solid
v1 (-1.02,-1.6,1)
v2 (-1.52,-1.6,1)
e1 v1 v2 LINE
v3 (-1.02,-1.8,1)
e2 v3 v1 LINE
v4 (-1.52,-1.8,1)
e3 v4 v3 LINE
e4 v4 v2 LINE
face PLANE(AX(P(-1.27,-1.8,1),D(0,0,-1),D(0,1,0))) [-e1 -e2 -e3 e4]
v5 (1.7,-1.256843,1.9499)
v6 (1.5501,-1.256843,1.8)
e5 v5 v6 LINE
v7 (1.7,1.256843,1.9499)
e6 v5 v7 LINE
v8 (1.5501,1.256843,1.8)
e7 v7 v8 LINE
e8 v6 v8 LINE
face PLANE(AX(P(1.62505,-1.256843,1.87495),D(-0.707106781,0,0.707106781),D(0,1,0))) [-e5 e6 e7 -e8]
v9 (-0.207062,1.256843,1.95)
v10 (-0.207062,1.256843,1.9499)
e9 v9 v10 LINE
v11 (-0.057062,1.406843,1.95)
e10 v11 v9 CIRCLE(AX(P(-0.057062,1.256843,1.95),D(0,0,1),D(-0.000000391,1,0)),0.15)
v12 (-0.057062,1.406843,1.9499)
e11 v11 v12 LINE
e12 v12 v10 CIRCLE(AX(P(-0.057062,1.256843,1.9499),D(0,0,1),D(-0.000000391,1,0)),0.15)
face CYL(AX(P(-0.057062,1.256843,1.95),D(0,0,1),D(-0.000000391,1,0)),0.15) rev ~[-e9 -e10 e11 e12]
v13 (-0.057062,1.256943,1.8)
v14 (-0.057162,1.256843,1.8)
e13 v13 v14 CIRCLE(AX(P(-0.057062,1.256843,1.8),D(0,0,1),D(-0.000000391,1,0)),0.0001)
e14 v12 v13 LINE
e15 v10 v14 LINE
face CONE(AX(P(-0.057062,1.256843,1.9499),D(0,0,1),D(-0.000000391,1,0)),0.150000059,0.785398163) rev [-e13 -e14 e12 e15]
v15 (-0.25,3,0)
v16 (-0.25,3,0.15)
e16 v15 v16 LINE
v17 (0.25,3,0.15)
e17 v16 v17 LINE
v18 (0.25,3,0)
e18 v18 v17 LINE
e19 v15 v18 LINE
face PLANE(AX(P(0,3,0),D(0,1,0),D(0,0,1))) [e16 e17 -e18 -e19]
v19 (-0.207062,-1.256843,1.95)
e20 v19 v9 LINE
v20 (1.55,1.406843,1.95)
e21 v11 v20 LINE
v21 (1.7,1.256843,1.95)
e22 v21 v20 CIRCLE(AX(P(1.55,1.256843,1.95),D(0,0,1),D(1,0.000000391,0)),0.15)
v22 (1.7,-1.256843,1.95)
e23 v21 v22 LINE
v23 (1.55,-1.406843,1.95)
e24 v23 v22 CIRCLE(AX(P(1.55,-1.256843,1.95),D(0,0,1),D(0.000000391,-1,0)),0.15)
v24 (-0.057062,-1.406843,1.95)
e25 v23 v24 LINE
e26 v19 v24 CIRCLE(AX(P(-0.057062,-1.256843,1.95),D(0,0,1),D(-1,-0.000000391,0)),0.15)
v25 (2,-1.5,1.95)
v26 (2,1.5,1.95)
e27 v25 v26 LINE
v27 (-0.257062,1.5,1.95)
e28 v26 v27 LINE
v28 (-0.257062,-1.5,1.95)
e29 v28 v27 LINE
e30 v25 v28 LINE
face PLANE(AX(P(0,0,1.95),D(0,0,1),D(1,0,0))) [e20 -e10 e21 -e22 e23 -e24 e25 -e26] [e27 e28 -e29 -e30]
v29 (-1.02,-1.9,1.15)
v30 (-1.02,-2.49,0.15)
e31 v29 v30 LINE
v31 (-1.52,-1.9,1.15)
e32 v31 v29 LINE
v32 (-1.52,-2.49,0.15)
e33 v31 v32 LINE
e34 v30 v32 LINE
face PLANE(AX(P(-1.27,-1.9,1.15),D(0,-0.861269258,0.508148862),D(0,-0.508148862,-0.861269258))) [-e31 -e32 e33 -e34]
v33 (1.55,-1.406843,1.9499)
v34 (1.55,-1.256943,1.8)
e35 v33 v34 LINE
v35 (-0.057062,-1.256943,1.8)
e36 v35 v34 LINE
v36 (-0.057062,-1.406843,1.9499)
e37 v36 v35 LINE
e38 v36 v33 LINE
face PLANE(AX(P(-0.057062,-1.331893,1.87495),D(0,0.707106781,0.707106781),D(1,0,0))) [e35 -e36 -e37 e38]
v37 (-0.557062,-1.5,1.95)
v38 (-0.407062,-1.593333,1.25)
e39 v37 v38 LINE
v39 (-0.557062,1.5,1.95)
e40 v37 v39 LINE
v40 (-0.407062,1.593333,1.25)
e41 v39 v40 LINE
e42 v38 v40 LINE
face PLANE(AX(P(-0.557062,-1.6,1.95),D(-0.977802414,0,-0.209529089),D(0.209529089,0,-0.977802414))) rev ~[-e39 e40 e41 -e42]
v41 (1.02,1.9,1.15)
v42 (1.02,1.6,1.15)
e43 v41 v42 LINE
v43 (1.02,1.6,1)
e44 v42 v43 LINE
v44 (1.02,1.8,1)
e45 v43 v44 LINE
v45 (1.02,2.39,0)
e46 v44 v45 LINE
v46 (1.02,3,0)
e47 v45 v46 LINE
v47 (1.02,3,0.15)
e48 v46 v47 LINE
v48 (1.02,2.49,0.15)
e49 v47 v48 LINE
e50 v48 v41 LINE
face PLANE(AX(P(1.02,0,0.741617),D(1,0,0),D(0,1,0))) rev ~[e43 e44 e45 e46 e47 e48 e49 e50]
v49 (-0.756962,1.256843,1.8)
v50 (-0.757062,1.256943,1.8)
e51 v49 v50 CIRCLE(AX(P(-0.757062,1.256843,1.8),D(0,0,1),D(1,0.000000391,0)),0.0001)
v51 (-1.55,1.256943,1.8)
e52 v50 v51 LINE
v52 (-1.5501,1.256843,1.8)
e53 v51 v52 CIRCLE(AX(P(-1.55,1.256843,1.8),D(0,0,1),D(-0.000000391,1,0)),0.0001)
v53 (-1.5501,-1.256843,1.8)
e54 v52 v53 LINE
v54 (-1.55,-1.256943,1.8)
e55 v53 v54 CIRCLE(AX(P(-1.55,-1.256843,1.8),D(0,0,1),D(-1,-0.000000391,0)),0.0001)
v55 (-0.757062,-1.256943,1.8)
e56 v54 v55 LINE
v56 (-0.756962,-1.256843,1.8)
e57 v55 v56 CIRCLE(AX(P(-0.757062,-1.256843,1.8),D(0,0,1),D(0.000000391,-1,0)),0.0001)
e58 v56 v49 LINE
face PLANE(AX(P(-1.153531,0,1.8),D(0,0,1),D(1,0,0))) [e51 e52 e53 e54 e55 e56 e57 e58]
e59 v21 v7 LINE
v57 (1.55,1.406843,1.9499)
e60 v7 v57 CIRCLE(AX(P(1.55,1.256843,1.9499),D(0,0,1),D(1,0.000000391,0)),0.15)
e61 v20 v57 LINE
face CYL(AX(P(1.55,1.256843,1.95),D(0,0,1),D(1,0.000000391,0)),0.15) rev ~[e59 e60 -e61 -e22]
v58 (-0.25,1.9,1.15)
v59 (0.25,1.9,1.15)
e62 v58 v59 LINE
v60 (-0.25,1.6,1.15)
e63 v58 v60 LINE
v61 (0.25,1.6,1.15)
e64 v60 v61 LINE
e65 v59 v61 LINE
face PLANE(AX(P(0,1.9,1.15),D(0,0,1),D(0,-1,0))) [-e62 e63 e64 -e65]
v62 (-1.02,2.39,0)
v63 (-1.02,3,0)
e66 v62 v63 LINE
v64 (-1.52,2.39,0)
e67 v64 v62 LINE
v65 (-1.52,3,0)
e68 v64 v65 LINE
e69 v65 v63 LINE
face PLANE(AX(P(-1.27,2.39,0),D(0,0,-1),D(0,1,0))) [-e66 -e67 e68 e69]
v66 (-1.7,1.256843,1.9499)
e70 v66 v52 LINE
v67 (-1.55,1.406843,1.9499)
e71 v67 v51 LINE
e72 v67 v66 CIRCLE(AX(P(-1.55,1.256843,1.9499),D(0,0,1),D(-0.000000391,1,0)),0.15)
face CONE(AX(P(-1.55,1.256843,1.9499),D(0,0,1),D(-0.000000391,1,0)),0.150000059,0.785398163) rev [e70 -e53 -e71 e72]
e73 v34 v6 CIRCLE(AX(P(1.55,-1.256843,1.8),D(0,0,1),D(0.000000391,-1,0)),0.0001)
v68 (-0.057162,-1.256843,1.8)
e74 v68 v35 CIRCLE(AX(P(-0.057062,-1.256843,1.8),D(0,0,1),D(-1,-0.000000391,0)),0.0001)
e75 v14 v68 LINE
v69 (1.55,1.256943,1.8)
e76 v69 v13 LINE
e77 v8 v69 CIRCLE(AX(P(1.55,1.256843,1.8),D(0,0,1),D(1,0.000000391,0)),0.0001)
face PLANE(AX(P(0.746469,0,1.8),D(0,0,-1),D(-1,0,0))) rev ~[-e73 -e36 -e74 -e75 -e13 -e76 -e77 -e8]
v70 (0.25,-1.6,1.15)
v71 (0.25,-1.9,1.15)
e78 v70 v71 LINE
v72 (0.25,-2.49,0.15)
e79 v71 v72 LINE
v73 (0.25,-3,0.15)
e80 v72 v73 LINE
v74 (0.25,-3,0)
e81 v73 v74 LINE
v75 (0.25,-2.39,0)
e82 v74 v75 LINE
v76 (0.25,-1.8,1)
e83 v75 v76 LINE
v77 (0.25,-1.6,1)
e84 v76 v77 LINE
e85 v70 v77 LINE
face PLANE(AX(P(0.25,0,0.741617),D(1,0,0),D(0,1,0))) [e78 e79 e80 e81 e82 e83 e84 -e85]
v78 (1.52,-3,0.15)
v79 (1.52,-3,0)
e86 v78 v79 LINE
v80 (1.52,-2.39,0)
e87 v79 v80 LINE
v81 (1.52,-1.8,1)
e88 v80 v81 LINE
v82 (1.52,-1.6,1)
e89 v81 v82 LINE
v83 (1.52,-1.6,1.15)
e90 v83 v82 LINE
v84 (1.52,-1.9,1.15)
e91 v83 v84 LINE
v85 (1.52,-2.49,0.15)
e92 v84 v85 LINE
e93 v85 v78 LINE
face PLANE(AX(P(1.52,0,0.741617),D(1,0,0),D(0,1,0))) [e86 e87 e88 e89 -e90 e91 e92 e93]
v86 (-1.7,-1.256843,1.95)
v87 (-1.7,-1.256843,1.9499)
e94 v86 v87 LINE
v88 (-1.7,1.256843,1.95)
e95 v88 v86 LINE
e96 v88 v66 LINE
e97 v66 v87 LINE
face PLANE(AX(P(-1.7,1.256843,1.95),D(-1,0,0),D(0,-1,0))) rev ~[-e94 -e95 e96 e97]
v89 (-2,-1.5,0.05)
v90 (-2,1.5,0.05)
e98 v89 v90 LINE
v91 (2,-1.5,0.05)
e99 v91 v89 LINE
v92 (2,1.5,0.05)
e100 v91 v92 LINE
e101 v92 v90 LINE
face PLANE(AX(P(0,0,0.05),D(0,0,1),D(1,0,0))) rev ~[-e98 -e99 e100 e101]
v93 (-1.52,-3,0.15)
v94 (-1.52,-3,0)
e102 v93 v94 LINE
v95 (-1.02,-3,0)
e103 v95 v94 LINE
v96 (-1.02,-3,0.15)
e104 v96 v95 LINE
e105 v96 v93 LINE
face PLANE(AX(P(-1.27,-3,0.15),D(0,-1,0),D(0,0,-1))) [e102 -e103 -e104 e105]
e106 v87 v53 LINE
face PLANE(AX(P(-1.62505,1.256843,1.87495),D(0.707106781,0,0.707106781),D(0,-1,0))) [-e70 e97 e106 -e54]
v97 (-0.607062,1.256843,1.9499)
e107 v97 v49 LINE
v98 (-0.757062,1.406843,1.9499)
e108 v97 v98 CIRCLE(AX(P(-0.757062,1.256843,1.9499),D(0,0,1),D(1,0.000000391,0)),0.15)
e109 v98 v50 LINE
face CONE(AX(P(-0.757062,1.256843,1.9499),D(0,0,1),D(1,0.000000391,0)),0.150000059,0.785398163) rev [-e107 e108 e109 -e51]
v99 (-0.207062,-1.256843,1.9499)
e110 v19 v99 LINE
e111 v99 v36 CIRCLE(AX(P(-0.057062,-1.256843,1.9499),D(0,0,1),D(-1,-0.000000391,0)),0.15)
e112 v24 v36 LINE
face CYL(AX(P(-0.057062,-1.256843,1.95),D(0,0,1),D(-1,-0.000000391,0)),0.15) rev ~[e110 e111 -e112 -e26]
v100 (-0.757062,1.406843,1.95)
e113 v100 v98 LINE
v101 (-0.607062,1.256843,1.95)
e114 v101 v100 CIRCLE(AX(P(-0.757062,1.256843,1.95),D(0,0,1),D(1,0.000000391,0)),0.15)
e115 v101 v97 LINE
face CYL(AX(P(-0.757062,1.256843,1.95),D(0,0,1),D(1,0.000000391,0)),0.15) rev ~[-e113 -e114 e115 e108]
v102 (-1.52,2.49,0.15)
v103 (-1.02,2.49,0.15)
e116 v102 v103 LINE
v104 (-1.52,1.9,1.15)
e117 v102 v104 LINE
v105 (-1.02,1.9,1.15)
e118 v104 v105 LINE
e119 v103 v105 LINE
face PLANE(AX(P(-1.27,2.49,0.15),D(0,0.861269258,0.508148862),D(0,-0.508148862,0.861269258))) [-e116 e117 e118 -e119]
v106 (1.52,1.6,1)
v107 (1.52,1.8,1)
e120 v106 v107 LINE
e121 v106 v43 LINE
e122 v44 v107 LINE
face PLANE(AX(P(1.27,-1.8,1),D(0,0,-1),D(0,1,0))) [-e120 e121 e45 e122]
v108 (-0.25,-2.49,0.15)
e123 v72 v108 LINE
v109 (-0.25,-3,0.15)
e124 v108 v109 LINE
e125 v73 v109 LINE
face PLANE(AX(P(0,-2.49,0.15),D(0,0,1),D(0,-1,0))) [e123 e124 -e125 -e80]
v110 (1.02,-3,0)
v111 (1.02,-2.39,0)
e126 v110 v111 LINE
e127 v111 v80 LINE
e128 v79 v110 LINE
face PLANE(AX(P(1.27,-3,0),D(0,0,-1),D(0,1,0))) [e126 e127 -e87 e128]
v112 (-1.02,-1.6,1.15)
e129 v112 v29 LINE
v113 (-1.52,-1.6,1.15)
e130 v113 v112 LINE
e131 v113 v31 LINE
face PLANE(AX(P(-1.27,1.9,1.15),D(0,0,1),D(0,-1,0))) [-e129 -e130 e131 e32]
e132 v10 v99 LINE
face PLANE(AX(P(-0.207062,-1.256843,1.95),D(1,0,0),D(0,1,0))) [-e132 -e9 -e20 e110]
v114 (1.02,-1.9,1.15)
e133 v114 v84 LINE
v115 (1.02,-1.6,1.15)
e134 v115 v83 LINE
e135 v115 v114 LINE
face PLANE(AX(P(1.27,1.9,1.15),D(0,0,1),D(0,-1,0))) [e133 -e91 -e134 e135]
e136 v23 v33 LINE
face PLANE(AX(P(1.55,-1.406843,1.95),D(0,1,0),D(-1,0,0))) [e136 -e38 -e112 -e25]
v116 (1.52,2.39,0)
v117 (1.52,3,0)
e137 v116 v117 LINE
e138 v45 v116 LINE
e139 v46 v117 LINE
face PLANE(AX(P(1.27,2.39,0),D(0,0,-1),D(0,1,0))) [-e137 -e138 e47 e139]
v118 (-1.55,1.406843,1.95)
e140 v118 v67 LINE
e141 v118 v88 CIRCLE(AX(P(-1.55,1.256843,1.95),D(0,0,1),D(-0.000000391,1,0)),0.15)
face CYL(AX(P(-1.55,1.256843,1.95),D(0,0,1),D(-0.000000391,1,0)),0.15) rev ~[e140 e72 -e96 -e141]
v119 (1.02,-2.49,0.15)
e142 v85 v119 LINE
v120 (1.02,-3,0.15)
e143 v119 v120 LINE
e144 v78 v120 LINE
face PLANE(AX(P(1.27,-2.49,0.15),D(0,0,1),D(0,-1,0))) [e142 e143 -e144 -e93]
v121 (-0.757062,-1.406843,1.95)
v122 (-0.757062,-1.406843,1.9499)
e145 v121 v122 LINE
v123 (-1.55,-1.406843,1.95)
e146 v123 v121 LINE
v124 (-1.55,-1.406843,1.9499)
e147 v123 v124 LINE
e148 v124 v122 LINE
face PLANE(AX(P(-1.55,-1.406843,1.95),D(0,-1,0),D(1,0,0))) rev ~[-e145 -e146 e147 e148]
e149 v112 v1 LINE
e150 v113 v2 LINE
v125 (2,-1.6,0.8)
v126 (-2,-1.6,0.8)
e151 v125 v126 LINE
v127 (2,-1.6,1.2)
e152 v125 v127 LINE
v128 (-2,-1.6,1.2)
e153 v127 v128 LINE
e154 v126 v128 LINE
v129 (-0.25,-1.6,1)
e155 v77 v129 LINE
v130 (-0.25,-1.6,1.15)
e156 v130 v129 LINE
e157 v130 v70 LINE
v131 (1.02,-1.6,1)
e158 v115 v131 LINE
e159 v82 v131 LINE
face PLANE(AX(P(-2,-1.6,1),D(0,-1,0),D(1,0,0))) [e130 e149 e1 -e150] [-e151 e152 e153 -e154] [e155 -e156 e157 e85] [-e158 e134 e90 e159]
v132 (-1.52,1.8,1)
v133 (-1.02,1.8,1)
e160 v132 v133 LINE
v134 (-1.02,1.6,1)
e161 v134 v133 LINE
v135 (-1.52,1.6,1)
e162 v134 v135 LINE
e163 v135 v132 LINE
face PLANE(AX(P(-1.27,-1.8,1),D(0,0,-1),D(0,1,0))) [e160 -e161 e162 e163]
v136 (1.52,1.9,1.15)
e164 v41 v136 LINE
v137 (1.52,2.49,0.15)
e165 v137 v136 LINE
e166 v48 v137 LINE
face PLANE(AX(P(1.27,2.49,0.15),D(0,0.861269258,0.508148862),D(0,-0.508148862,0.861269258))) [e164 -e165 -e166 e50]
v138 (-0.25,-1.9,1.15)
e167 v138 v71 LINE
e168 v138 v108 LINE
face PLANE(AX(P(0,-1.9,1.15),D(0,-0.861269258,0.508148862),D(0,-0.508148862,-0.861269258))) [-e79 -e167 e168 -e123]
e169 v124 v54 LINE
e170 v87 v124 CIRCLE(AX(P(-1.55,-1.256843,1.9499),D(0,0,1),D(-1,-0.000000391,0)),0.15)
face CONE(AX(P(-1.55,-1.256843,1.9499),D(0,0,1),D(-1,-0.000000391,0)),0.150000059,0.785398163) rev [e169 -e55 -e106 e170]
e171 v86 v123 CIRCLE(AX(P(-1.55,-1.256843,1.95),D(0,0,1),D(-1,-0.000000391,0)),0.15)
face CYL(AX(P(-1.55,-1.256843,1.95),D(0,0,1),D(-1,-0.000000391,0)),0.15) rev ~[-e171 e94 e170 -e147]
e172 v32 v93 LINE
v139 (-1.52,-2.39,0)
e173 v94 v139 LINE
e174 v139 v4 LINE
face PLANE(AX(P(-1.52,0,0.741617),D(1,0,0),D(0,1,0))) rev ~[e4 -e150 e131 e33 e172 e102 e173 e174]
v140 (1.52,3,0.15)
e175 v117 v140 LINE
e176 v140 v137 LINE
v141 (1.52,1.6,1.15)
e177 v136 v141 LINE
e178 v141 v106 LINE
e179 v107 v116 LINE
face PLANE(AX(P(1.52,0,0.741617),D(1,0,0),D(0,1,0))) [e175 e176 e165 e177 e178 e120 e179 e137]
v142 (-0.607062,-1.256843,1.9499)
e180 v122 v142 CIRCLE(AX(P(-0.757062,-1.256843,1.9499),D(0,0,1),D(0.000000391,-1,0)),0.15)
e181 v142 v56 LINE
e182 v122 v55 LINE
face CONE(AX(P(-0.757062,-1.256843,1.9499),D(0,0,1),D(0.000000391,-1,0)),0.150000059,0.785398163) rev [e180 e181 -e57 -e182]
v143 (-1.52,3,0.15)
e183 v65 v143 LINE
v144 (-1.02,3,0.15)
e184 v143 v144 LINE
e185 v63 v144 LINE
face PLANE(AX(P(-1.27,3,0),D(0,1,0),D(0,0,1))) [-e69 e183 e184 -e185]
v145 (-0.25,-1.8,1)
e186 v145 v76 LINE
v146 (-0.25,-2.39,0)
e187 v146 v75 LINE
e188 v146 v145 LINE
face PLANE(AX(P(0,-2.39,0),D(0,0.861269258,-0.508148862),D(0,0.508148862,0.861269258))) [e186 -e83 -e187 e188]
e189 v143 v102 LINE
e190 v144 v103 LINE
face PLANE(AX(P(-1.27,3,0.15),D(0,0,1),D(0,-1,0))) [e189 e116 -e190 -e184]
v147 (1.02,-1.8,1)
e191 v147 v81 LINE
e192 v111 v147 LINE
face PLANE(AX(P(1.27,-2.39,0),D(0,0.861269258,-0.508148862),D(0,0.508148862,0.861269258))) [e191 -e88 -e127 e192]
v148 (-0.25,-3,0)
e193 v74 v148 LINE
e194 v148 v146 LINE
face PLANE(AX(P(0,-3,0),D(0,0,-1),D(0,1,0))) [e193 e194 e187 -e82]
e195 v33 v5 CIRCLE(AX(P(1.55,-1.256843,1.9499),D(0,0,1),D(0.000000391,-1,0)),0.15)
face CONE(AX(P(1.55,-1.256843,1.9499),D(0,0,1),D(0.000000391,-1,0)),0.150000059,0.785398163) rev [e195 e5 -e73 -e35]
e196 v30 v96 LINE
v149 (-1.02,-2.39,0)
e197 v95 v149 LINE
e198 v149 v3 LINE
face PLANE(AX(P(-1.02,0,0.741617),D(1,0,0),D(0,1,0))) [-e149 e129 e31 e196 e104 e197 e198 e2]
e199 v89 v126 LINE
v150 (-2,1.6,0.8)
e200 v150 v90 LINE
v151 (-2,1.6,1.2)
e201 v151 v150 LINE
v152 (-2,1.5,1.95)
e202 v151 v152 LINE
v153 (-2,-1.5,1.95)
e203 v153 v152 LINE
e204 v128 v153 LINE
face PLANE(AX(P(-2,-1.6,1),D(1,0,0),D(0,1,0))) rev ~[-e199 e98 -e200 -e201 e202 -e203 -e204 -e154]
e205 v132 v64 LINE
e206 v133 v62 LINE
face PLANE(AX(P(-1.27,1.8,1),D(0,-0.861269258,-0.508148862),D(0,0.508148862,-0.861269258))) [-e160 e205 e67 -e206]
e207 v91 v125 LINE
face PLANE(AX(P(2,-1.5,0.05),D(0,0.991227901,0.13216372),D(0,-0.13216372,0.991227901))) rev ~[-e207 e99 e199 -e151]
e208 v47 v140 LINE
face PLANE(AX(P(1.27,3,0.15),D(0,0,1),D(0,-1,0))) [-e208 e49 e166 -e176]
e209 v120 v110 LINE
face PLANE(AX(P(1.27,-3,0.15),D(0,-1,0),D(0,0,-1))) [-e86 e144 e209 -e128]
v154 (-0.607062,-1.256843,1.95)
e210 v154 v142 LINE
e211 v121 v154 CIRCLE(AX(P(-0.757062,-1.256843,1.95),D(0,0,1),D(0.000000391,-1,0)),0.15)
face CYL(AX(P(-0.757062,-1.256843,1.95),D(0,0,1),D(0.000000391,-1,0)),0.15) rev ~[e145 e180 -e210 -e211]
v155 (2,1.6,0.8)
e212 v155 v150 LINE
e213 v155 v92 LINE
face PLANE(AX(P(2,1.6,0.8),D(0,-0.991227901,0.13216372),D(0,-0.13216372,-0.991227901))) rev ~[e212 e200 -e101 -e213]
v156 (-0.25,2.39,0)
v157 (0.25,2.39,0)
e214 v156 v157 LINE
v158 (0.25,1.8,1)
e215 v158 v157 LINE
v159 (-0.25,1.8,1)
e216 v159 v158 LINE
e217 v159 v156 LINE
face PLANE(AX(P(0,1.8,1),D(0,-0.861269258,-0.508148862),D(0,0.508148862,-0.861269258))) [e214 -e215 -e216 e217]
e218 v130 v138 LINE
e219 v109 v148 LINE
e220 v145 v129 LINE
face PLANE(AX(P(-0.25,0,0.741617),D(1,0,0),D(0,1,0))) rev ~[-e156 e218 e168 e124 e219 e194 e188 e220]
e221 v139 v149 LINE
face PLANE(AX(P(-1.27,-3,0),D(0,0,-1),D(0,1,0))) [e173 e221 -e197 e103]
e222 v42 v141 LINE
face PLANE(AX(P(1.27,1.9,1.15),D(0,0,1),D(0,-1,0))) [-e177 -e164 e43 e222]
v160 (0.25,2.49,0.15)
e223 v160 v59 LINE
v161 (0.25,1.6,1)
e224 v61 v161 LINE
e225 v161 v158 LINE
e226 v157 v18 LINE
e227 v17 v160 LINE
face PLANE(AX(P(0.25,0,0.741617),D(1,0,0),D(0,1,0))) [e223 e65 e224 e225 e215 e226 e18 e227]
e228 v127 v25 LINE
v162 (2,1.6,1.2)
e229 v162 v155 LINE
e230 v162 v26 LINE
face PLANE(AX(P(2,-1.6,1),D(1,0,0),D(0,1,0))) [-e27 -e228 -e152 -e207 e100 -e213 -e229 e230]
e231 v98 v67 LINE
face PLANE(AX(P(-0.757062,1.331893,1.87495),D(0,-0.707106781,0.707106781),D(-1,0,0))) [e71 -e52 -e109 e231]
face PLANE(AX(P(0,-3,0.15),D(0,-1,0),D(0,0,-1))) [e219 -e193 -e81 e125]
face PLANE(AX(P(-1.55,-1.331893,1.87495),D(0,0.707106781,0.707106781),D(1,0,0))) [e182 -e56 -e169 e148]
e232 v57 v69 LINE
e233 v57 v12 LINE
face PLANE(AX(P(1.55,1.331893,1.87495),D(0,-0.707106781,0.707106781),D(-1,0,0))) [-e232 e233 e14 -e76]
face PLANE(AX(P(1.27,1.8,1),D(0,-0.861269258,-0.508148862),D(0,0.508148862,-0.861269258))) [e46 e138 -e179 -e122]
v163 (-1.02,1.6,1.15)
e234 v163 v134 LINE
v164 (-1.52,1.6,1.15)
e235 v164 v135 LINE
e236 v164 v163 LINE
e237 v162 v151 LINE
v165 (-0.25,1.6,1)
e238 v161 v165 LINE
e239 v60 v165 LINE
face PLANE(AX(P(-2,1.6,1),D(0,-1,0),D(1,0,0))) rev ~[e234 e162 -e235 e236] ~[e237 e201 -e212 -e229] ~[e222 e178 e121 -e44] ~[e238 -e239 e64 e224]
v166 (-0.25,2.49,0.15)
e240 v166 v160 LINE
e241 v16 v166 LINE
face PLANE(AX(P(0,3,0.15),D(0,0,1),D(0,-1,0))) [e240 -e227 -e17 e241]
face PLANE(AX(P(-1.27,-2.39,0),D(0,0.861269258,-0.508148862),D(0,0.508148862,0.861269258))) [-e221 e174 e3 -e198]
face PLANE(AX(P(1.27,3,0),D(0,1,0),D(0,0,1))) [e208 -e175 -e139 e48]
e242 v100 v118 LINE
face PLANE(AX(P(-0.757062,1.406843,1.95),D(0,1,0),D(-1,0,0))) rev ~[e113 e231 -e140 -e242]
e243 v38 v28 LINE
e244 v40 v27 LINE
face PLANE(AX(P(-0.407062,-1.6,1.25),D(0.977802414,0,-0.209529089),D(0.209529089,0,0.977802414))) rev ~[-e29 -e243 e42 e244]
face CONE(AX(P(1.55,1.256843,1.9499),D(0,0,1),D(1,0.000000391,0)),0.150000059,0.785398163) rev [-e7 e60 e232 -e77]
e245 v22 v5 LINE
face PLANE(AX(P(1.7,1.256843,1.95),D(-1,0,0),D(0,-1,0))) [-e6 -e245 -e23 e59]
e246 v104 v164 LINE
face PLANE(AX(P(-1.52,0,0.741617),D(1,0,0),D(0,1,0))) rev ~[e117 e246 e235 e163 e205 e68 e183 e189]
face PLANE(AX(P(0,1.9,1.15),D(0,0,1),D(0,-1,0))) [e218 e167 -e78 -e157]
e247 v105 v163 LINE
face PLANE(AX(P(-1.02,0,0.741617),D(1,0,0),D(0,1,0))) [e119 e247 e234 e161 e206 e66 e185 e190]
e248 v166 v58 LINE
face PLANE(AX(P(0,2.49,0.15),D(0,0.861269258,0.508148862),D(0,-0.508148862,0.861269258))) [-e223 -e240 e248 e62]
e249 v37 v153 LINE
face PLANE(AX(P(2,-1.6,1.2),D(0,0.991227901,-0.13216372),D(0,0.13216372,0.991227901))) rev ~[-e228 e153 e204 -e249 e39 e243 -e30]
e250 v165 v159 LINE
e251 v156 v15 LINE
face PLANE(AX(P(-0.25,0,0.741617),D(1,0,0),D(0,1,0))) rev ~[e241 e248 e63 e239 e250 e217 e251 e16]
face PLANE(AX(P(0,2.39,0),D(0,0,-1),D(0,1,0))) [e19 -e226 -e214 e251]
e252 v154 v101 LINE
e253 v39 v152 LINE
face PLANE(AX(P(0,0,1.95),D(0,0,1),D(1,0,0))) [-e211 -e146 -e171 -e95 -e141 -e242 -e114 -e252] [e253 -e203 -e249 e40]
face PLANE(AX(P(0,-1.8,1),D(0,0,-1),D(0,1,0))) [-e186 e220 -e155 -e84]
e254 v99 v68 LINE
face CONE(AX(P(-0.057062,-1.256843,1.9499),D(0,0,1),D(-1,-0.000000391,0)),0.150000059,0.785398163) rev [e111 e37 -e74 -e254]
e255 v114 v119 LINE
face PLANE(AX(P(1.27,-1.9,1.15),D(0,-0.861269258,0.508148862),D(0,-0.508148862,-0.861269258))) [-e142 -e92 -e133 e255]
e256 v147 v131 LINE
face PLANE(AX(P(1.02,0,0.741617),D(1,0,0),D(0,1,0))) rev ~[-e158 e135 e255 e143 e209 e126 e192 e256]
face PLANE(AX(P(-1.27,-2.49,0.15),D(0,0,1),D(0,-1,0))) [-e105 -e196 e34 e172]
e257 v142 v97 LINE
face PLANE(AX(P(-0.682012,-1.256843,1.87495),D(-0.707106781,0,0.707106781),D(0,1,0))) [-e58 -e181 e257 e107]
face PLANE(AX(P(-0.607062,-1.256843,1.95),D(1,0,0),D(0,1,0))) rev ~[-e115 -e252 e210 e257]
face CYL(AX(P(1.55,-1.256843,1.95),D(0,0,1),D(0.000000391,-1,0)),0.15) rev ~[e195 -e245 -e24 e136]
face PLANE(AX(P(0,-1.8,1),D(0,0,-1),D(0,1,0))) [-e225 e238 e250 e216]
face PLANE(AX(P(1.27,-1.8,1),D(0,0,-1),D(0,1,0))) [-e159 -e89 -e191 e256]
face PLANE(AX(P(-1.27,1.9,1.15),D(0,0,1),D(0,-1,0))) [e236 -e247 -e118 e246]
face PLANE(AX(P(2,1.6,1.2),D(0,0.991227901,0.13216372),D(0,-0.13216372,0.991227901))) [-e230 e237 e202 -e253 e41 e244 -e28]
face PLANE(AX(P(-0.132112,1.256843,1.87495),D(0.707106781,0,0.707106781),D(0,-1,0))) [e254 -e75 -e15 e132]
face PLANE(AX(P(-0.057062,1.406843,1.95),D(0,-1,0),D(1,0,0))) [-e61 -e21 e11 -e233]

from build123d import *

# Parameters (mm, degrees)
PAD002_DEPTH    = 0.25
PAD003_DEPTH    = 0.25
SKETCH_W        = 4
SKETCH_H        = 3.2
PAD_DEPTH       = 0.95
POCKET_DEPTH    = 3.201
POCKET001_DEPTH = 0.15
POCKET002_DEPTH = 20
CHAMFER_SIZE    = 0.1499
PAD001_DEPTH    = 0.25


with BuildPart() as pad002:
    # Sketch003 → Pad002 (new body, symmetric)
    with BuildSketch(Plane.YZ):
        Polygon((-3, 0), (-2.39, 0), (-1.8, 1), (1.8, 1), (2.39, 0), (3, 0), (3, 0.15), (2.49, 0.15), (1.9, 1.15), (-1.9, 1.15), (-2.49, 0.15), (-3, 0.15), align=None)
    extrude(amount=PAD002_DEPTH, both=True)


with BuildPart() as pad003:
    # Sketch004 → Pad003 (new body, symmetric)
    with BuildSketch(Plane.YZ.offset(1.27)):
        Polygon((-3, 0), (-2.39, 0), (-1.8, 1), (1.8, 1), (2.39, 0), (3, 0), (3, 0.15), (2.49, 0.15), (1.9, 1.15), (-1.9, 1.15), (-2.49, 0.15), (-3, 0.15), align=None)
    extrude(amount=PAD003_DEPTH, both=True)


with BuildPart() as chamfer_body:
    # Sketch → Pad (new body, symmetric)
    with BuildSketch(Plane.XY.offset(1)):
        Rectangle(SKETCH_W, SKETCH_H)
    extrude(amount=PAD_DEPTH, both=True)

    # Sketch005 → Pocket (cut, through all)
    with BuildSketch(Plane(origin=(0, -1.6, 1), x_dir=(1, 0, 0), z_dir=(0, -1, 0))):
        Polygon((-0.557062, 0.95), (-0.407062, 0.25), (-0.257062, 0.95), align=None)
    extrude(amount=-POCKET_DEPTH, mode=Mode.SUBTRACT)

    # Sketch006 → Pocket001 (cut)
    with BuildSketch(Plane.XY.offset(1.95)):
        with BuildLine():
            Line((-0.757062, 1.406843), (-1.55, 1.406843))
            ThreePointArc((-1.55, 1.406843), (-1.656066, 1.362909), (-1.7, 1.256843))
            Line((-1.7, 1.256843), (-1.7, -1.256843))
            ThreePointArc((-1.7, -1.256843), (-1.656066, -1.362909), (-1.55, -1.406843))
            Line((-1.55, -1.406843), (-0.757062, -1.406843))
            ThreePointArc((-0.757062, -1.406843), (-0.650996, -1.362909), (-0.607062, -1.256843))
            Line((-0.607062, -1.256843), (-0.607062, 1.256843))
            ThreePointArc((-0.607062, 1.256843), (-0.650996, 1.362909), (-0.757062, 1.406843))
        make_face()
        with BuildLine():
            Line((-0.057062, 1.406843), (1.55, 1.406843))
            ThreePointArc((1.7, 1.256843), (1.656066, 1.362909), (1.55, 1.406843))
            Line((1.7, 1.256843), (1.7, -1.256843))
            ThreePointArc((1.55, -1.406843), (1.656066, -1.362909), (1.7, -1.256843))
            Line((1.55, -1.406843), (-0.057062, -1.406843))
            ThreePointArc((-0.207062, -1.256843), (-0.163128, -1.362909), (-0.057062, -1.406843))
            Line((-0.207062, -1.256843), (-0.207062, 1.256843))
            ThreePointArc((-0.057062, 1.406843), (-0.163128, 1.362909), (-0.207062, 1.256843))
        make_face()
    extrude(amount=-POCKET001_DEPTH, mode=Mode.SUBTRACT)

    # Sketch007 → Pocket002 (cut)
    with BuildSketch(Plane(origin=(2, 0, 1), x_dir=(0, 1, 0), z_dir=(1, 0, 0))):
        Polygon((-1.5, 0.95), (-1.6, 0.95), (-1.6, 0.2), align=None)
        Polygon((-1.6, -0.95), (-1.5, -0.95), (-1.6, -0.2), align=None)
        Polygon((1.6, 0.95), (1.6, 0.2), (1.5, 0.95), align=None)
        Polygon((1.6, -0.95), (1.6, -0.2), (1.5, -0.95), align=None)
    extrude(amount=-POCKET002_DEPTH, mode=Mode.SUBTRACT)

    # Chamfer
    chamfer_edges = [chamfer_body.edges().sort_by_distance(p)[0] for p in [
        (-1.7, 0, 1.8),
        (-1.656066, 1.362909, 1.8),
        (-1.153531, 1.406843, 1.8),
        (-0.163128, 1.362909, 1.8),
        (0.746469, 1.406843, 1.8),
        (-0.207062, 0, 1.8),
        (-1.656066, -1.362909, 1.8),
        (-1.153531, -1.406843, 1.8),
        (-0.650996, -1.362909, 1.8),
        (-0.163128, -1.362909, 1.8),
        (0.746469, -1.406843, 1.8),
        (1.656066, -1.362909, 1.8),
        (1.656066, 1.362909, 1.8),
        (1.7, 0, 1.8),
        (-0.650996, 1.362909, 1.8),
        (-0.607062, 0, 1.8),
    ]]
    chamfer(chamfer_edges, length=CHAMFER_SIZE)


with BuildPart() as osram_sfh9x0x:
    # Sketch002 → Pad001 (new body, symmetric)
    with BuildSketch(Plane.YZ.offset(-1.27)):
        Polygon((-3, 0), (-2.39, 0), (-1.8, 1), (1.8, 1), (2.39, 0), (3, 0), (3, 0.15), (2.49, 0.15), (1.9, 1.15), (-1.9, 1.15), (-2.49, 0.15), (-3, 0.15), align=None)
    extrude(amount=PAD001_DEPTH, both=True)

    # Pad001_mp_cp: union Pad002, Pad003, Chamfer body
    add(pad002.part)
    add(pad003.part)
    add(chamfer_body.part)


solid = osram_sfh9x0x.part
